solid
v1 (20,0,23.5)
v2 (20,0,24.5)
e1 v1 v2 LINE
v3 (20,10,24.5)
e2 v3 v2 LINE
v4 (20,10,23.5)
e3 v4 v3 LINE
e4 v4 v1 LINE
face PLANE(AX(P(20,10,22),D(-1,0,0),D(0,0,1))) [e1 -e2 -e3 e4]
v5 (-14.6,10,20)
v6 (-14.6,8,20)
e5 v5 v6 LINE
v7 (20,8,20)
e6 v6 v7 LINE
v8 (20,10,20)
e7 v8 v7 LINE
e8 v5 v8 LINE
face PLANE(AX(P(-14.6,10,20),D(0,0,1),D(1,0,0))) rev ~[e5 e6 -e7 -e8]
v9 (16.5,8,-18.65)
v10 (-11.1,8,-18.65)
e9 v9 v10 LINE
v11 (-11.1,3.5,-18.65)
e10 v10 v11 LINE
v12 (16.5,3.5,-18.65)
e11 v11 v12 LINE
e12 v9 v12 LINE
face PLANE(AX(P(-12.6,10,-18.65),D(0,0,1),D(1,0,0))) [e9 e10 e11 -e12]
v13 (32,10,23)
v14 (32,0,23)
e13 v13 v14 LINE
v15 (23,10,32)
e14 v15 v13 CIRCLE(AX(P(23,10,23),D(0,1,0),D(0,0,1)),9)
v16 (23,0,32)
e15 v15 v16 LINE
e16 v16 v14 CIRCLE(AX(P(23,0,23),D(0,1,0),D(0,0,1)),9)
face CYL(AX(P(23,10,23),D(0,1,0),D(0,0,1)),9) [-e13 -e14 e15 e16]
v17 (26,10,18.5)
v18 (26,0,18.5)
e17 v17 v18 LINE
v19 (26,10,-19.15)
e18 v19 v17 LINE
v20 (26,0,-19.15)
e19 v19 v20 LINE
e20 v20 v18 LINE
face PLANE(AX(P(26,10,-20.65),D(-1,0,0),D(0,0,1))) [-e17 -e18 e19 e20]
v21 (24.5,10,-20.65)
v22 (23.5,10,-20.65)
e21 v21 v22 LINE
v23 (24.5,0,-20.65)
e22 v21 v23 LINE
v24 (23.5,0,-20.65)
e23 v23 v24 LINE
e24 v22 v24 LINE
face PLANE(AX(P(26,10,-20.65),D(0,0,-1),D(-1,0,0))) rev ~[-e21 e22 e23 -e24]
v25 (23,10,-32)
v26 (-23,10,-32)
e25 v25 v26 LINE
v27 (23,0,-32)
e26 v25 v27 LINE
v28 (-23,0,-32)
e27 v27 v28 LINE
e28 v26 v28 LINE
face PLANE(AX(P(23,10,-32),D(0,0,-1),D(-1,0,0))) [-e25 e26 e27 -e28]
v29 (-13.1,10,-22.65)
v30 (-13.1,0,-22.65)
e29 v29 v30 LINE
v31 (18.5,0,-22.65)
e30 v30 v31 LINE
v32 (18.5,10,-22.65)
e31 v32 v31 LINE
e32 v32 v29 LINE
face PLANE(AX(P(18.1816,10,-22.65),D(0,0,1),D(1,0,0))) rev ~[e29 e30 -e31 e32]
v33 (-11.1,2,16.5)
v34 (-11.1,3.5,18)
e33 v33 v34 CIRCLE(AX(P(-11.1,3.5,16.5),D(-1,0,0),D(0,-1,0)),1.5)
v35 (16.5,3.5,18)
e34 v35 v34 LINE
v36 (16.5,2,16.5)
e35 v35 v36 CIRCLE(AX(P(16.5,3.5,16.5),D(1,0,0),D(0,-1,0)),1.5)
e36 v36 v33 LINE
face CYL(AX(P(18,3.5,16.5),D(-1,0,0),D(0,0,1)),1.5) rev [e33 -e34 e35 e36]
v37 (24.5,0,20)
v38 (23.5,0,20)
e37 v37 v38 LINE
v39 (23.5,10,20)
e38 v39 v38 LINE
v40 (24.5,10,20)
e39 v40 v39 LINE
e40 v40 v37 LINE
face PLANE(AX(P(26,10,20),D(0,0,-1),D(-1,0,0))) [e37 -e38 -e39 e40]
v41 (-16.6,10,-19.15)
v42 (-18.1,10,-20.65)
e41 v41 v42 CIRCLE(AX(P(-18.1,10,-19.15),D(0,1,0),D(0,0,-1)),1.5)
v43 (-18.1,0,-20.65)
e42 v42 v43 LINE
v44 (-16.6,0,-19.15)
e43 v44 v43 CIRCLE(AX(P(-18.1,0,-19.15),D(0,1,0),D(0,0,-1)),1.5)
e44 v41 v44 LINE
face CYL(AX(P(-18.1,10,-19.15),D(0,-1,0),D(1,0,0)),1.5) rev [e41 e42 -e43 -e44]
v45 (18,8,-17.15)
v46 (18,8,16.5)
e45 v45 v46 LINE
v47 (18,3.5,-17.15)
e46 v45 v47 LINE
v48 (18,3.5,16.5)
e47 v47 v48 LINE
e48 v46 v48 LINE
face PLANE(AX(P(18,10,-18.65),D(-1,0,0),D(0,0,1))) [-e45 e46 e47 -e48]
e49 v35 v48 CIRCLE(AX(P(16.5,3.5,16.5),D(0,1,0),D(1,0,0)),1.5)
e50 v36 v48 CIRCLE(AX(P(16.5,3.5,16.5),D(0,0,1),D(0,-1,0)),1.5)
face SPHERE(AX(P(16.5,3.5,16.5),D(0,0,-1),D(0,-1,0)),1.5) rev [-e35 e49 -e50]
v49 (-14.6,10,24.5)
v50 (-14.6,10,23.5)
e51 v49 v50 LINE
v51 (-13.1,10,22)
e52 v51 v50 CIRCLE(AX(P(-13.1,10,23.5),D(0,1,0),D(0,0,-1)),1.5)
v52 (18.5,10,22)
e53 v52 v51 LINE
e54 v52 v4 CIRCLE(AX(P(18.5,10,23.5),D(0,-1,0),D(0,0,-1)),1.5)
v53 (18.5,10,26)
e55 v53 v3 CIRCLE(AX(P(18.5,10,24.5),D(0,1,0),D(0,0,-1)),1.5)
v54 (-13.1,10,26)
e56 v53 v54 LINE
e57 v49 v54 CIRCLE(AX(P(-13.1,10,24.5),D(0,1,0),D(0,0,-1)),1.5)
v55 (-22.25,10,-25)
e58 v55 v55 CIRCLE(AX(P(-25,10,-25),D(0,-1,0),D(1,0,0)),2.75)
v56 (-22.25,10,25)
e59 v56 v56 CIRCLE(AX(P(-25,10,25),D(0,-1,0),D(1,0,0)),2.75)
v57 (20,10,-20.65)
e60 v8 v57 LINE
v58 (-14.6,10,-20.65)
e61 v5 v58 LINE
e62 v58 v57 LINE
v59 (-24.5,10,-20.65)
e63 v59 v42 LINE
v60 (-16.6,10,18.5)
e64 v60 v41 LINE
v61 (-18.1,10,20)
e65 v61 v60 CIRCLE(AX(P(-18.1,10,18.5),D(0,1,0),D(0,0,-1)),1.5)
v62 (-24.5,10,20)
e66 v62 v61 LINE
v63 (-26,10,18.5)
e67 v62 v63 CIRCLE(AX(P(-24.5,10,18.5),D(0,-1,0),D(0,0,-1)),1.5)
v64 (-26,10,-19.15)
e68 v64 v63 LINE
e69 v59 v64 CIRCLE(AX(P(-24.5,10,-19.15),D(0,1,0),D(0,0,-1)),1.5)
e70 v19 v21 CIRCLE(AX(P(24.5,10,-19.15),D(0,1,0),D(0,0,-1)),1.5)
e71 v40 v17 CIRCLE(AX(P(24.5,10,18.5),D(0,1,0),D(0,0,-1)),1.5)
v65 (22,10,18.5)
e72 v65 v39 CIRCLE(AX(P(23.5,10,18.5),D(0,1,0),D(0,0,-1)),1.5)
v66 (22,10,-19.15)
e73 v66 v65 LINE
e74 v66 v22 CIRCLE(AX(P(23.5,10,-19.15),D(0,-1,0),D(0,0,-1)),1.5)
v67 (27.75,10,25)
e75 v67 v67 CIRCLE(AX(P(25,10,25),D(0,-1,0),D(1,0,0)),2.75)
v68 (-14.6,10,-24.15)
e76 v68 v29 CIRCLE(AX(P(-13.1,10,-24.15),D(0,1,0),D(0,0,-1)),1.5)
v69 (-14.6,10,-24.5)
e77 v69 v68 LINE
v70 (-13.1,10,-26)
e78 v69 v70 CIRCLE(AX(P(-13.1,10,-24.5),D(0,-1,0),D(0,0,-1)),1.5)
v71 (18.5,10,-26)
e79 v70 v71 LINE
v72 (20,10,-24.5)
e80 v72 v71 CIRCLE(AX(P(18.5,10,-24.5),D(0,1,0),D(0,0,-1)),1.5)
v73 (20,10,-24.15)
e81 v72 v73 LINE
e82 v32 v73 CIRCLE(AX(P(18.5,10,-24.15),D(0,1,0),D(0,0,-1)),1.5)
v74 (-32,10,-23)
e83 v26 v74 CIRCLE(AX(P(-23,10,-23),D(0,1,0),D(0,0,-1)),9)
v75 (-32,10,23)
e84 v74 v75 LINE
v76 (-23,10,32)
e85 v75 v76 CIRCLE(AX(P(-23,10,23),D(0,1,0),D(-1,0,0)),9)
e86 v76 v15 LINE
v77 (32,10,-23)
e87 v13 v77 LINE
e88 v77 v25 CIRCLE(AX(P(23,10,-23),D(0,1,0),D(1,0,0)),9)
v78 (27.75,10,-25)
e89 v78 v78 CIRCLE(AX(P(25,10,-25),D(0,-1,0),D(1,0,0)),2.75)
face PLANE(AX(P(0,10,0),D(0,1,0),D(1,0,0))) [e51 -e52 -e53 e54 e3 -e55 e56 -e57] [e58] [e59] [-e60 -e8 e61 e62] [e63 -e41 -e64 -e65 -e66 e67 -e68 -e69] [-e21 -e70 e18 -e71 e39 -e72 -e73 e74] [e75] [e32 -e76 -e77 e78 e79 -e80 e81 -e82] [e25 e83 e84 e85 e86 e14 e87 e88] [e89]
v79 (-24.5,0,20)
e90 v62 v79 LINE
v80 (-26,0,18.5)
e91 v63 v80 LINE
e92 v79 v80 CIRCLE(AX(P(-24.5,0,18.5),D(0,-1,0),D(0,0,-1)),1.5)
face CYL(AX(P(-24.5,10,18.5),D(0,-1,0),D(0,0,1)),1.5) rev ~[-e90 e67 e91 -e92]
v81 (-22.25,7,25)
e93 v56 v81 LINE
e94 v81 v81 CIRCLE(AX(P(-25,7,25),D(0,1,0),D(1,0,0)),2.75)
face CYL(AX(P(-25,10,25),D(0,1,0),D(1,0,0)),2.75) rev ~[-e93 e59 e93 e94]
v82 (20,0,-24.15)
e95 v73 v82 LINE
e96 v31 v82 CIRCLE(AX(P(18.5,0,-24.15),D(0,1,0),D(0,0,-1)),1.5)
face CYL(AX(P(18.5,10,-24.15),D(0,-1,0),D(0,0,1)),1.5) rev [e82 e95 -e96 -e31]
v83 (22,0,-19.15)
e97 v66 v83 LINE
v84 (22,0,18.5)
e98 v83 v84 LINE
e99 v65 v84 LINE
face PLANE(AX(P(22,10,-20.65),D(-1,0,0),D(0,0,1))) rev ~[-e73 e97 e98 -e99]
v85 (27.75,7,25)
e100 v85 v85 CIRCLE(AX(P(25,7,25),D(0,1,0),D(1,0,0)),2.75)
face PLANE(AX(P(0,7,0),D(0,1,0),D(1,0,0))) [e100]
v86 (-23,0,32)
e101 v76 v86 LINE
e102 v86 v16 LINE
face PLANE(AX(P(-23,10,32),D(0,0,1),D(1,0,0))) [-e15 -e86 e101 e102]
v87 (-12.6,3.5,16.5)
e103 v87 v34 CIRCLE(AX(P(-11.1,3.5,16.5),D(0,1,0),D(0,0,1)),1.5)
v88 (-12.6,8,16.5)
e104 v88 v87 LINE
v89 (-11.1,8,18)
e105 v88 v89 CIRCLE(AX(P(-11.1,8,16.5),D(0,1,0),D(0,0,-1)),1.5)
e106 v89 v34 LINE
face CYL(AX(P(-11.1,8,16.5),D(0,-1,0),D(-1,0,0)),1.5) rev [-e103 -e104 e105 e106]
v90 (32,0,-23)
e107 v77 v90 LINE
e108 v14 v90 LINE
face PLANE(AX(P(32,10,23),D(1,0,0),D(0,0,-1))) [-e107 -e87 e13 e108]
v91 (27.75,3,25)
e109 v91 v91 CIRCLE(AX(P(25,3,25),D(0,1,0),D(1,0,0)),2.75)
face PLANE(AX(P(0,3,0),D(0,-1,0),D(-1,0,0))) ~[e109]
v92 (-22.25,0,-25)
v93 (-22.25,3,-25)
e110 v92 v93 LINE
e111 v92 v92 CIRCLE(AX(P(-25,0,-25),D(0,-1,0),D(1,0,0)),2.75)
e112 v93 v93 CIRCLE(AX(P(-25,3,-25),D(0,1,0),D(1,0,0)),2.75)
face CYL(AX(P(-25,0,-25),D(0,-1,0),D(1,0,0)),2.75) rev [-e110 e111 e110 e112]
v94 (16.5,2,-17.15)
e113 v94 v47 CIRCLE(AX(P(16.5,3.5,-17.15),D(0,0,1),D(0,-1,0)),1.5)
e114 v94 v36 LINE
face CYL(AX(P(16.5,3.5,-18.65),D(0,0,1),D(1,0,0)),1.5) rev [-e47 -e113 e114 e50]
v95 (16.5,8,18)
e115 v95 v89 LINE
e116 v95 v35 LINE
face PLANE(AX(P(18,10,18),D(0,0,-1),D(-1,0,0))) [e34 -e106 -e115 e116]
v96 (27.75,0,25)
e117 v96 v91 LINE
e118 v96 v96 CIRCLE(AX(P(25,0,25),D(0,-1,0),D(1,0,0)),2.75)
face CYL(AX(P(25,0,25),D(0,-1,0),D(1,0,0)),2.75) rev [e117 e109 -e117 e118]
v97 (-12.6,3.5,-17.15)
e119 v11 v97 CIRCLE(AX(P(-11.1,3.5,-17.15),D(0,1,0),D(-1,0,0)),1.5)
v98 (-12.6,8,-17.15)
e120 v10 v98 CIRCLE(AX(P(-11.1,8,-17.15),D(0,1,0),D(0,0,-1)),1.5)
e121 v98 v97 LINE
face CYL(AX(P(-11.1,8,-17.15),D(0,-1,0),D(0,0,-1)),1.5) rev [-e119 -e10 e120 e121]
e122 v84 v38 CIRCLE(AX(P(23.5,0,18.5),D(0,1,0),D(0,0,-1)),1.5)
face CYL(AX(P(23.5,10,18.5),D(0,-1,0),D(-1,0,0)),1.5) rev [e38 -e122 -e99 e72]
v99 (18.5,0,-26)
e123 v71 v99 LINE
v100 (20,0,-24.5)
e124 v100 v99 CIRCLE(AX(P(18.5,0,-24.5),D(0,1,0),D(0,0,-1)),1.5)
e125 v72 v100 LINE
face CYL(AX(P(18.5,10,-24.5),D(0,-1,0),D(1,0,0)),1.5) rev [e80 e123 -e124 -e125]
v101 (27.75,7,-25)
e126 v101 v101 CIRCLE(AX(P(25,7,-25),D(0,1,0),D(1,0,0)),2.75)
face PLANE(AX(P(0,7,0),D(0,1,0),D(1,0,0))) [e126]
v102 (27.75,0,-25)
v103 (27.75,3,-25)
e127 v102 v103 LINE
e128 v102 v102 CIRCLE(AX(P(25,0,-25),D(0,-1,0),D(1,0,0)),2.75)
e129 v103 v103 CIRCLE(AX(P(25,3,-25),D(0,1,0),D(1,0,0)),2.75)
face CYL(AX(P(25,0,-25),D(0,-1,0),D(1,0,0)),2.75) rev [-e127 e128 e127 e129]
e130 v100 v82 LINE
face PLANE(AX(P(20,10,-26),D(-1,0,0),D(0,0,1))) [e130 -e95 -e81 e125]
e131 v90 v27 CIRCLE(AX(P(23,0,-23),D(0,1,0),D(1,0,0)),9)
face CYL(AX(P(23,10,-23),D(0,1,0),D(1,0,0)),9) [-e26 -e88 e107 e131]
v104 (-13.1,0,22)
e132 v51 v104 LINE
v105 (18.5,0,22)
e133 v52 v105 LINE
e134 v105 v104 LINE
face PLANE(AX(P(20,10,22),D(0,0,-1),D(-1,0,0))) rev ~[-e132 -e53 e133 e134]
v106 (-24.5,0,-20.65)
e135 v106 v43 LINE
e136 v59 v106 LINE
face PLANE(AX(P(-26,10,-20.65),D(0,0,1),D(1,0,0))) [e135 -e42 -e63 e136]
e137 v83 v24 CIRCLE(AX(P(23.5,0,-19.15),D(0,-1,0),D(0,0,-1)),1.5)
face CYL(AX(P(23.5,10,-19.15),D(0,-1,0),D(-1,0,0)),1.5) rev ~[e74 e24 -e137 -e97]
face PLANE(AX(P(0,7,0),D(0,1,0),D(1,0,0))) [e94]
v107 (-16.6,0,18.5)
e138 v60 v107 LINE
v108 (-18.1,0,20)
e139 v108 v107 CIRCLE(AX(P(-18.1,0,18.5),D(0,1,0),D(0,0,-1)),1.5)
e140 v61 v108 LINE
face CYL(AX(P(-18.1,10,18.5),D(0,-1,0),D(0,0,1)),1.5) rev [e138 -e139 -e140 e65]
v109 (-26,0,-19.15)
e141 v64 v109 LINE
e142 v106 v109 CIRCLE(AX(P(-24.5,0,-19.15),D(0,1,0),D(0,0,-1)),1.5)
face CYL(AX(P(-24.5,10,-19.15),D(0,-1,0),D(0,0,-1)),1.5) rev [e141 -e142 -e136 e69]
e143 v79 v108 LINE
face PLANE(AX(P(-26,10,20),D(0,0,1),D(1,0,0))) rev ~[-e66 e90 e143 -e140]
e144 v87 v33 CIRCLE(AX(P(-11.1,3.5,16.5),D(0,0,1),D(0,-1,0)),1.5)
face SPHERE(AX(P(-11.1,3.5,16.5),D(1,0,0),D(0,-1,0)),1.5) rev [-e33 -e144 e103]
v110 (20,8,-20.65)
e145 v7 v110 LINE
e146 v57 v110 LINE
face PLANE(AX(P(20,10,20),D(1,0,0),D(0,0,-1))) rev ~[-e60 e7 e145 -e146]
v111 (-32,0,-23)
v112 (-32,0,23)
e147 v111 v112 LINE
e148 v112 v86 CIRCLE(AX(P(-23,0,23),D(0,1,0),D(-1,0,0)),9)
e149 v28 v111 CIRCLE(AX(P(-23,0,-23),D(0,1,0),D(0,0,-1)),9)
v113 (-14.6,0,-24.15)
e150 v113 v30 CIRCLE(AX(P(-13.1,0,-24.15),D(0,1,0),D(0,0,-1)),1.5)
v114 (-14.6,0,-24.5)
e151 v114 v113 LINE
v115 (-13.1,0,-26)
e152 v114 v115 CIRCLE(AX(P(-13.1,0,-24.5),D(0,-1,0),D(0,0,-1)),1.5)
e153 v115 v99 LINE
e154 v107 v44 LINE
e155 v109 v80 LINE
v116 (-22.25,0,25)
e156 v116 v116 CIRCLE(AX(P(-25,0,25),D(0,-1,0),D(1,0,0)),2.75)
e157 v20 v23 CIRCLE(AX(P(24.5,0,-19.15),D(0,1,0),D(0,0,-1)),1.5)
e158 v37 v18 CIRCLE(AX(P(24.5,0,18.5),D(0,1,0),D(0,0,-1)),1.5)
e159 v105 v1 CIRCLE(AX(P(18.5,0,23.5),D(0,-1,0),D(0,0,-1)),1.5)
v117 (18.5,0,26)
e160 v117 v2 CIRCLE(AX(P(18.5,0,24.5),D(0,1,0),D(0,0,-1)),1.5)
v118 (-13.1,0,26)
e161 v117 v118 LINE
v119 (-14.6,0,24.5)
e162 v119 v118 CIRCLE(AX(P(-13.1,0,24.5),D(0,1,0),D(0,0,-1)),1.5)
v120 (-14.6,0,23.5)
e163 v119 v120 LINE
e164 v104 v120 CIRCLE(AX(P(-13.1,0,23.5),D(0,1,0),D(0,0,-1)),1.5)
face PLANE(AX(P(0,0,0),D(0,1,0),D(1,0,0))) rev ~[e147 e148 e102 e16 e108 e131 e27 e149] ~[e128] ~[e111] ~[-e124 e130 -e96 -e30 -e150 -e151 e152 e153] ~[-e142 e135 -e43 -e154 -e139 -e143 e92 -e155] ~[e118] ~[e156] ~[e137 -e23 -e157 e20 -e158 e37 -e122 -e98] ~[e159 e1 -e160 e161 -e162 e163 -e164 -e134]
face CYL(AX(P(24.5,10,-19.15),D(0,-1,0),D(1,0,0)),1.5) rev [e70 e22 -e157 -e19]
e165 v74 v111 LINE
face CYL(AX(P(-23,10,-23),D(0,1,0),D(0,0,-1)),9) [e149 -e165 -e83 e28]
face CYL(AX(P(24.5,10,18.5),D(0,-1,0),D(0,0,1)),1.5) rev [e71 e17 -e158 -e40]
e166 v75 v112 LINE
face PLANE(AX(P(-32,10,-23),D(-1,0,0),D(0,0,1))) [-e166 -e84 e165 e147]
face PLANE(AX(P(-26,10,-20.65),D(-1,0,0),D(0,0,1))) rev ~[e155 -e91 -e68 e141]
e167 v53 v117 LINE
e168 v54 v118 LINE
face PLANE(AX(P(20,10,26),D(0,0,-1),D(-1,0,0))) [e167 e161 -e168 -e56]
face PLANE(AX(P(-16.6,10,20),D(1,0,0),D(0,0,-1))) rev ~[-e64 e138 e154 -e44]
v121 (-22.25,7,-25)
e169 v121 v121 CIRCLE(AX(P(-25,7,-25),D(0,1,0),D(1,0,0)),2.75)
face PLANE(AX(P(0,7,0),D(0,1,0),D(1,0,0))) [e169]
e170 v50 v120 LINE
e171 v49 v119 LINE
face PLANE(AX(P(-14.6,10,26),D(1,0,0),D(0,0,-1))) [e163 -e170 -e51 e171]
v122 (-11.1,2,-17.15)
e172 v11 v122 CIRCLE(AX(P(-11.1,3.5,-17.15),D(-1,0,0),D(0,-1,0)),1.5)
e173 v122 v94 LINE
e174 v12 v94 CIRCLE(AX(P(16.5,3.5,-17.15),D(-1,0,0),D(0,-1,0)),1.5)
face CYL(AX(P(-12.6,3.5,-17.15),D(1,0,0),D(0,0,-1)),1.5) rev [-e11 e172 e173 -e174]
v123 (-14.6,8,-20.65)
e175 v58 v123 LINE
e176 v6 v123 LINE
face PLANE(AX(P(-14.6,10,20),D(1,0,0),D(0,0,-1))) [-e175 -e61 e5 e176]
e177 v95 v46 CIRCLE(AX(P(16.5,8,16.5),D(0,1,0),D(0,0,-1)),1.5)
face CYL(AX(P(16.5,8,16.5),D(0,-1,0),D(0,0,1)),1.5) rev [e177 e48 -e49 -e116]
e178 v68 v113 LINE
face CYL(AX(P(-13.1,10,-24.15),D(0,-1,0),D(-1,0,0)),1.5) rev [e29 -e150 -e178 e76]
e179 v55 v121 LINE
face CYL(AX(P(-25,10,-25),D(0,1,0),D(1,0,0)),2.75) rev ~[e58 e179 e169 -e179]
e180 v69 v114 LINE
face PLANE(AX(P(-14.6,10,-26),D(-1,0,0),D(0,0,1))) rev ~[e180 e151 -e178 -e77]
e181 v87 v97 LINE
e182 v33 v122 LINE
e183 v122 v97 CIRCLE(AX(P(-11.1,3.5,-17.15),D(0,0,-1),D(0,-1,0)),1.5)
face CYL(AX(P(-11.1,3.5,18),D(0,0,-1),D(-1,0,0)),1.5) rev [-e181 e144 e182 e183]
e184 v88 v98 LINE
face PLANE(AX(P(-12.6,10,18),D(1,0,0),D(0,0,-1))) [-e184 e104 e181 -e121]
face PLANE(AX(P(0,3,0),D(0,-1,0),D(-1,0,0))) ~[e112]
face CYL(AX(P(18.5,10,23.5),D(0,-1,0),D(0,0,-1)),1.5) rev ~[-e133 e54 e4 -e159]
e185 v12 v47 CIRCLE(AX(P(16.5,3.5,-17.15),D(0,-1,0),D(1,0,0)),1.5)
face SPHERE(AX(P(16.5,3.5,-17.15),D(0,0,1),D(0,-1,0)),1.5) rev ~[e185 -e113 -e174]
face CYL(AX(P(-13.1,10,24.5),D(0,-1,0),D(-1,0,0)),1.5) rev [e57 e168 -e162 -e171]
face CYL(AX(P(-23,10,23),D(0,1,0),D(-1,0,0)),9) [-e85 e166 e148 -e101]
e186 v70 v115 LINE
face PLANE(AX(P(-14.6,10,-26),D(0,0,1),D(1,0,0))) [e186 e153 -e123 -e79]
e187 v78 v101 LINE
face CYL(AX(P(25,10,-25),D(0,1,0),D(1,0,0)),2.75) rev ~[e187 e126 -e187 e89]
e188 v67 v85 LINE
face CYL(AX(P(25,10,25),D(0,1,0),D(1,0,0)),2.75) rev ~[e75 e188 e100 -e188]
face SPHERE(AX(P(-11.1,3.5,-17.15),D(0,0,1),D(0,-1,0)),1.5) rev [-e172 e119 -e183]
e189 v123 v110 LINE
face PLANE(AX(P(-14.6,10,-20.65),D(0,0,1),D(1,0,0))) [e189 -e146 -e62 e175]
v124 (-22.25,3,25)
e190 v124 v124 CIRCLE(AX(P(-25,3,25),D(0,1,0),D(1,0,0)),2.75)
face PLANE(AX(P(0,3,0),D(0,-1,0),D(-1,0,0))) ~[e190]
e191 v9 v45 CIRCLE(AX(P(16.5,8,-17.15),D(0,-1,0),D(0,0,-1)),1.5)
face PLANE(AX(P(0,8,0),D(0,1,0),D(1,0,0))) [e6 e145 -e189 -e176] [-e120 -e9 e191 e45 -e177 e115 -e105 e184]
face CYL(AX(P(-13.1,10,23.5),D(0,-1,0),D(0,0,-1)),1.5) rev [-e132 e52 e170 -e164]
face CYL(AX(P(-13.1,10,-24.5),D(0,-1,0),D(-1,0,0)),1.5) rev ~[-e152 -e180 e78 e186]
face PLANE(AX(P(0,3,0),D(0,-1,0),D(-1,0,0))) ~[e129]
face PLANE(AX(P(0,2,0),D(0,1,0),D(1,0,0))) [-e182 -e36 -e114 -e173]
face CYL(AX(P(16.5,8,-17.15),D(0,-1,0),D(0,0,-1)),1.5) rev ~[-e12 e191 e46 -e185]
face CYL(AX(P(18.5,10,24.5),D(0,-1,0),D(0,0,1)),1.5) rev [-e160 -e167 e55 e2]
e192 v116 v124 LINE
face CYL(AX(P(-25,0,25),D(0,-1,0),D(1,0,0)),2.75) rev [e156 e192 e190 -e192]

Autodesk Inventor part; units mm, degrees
ref_plane "YZ Plane" through (0, 0, 0) normal (1, 0, 0) x (0, 1, 0)
ref_plane "XZ Plane" through (0, 0, 0) normal (0, 1, 0) x (-1, 0, 0)
sketch "Sketch1" plane through (0, 0, 0) normal (0, 1, 0) x (-1, 0, 0)
  line L0 (30, 30) -> (-30, 30)
  line L1 (-30, 30) -> (-30, -30)
  line L2 (-30, -30) -> (30, -30)
  line L3 (30, -30) -> (30, 30)
  line L4 (30, 30) -> (-30, -30) construction
  line L5 (-30, 30) -> (30, -30) construction
  point P0 (0, 0)
  dimension "d0" = 60
  dimension "d1" = 60
extrude "Extrusion1" add sketch "Sketch1" along normal blind 10
fillet "Fillet1" radius 7 4 edges at (30, 5, 30) (30, 5, -30) (-30, 5, 30) (-30, 5, -30)
sketch "Sketch2" plane through (0, 10, 0) normal (0, 1, 0) x (1, 0, 0)
  line L0 (-30, 30) -> (30, 30)
  line L1 (30, 30) -> (30, -30)
  line L2 (30, -30) -> (-30, -30)
  line L3 (-30, -30) -> (-30, 30)
  line L4 (-30, 30) -> (30, -30) construction
  line L5 (30, 30) -> (-30, -30) construction
  line L6 (25, -25) -> (25, 25)
  line L7 (25, 25) -> (-25, 25)
  line L8 (-25, 25) -> (-25, -25)
  line L9 (-25, -25) -> (25, -25)
  circle A0 centre (25, -25) radius 2.75
  circle A1 centre (-25, -25) radius 2.75
  circle A2 centre (25, 25) radius 2.75
  circle A3 centre (-25, 25) radius 2.75
  point P0 (0, 0)
  dimension "d5" = 5
  dimension "d6" = 5.5
  dimension "d7" = 5.5
  dimension "d8" = 5.5
  dimension "d9" = 5.5
extrude "Extrusion2" cut sketch "Sketch2" against normal blind 3 contours L9 A0 L6 | L6 A0 L9 | A2 L7 L6 | L6 L7 A2 | A1 L8 L9 | L9 L8 A1 | A3 L8 L7 | L7 L8 A3
sketch "Sketch3" plane through (0, 10, 0) normal (0, 1, 0) x (1, 0, 0)
  line L0 (-30, 30) -> (30, 30)
  line L1 (30, 30) -> (30, -30)
  line L2 (30, -30) -> (-30, -30)
  line L3 (-30, -30) -> (-30, 30)
  line L4 (-30, 30) -> (30, -30) construction
  line L5 (30, 30) -> (-30, -30) construction
  line L6 (20, -20) -> (20, 20.65)
  line L7 (-20, -20) -> (20, -20)
  line L8 (18, 18.65) -> (18, -18)
  line L9 (-20, 20.65) -> (20.65, 20.65)
  line L10 (18, 18.65) -> (18.65, 18.65)
  line L11 (-12.6, -18) -> (-12.6, 18.65)
  line L12 (-14.6, -20) -> (-14.6, 20.65)
  line L13 (18, 18.65) -> (-12.6, 18.65)
  line L14 (18, -18) -> (-12.6, -18)
  line L15 (-26, 20.65) -> (-20, 20.65)
  line L16 (-26, 20.65) -> (-26, -20)
  line L17 (-26, -20) -> (-20, -20)
  point P0 (0, 0)
  point P1 (-12.6, -20)
  dimension "d12" = 60
  dimension "d13" = 60
  dimension "d14" = 10
  dimension "d16" = 34.6
  dimension "d17" = 2
  dimension "d18" = 40.65
  dimension "d22" = 4
  dimension "d23" = 4
extrude "Extrusion3" cut sketch "Sketch3" against normal blind 2 contours L7 L12 L9 L6
sketch "Sketch4" plane through (0, 10, 0) normal (0, 1, 0) x (1, 0, 0)
  line L0 (-12.6, 18.65) -> (18, 18.65)
  line L1 (18, 18.65) -> (18, -18)
  line L2 (18, -18) -> (-12.6, -18)
  line L3 (-12.6, -18) -> (-12.6, 18.65)
  point P0 (0, 0)
extrude "Extrusion4" cut sketch "Sketch4" against normal blind 8
sketch "Sketch5" plane through (0, 10, 0) normal (0, 1, 0) x (1, 0, 0)
  line L0 (20, -20) -> (-14.6, -20)
  line L1 (-14.6, -20) -> (-14.6, 20.65)
  line L2 (-30, 23) -> (-30, -23) projected
  line L3 (-23, -30) -> (23, -30) projected
  line L4 (30, -23) -> (30, 23) projected
  line L5 (-26, 20.65) -> (-14.6, 20.65)
  line L6 (-26, -20) -> (-14.6, -20)
  line L7 (-26, 20.65) -> (-26, -20)
  line L8 (-14.6, -26) -> (-14.6, -20)
  line L9 (-14.6, -20) -> (-14.6, -26)
  line L10 (20, -26) -> (-14.6, -26)
  line L11 (20, -20) -> (20, -26)
  line L12 (26, -20) -> (20, -20)
  line L13 (26, 20.65) -> (20, 20.65)
  line L14 (30, -23) -> (30, 23) projected
  line L15 (26, 20.65) -> (26, -20)
  line L16 (23, 30) -> (-23, 30) projected
  line L17 (-14.6, 26) -> (-14.6, 20.65)
  line L18 (-14.6, 26) -> (20, 26)
  line L19 (20, 26) -> (20, 20.65)
  line L20 (-16.6, -20) -> (-16.6, 20.65)
  line L21 (20, -22) -> (-14.6, -22)
  line L22 (22, 20.65) -> (22, -20)
  line L23 (-14.6, 22.65) -> (18.1816, 22.65)
  line L24 (18.1816, 22.65) -> (20, 22.65)
  point P0 (0, 0)
  dimension "d28" = 4
  dimension "d29" = 4
  dimension "d30" = 4
  dimension "d31" = 4
  dimension "d32" = 4
  dimension "d33" = 4
  dimension "d36" = 4
  dimension "d37" = 4
  dimension "d38" = 2
  dimension "d39" = 2
extrude "Extrusion5" cut sketch "Sketch5" against normal through all contours L11 L10 L8 L21 | L22 L13 L15 L12 | L6 L7 L5 L20 | L17 L18 L19 L24 L23
fillet "Fillet2" radius 1.5 24 edges at (-16.6, 5, -20.65) (20, 5, -26) (26, 5, -20.65) (20, 5, 22) (-14.6, 5, -26) (-26, 5, -20.65) (22, 5, -20.65) (-14.6, 5, 22) (-26, 5, 20) (-14.6, 5, -22.65) (-14.6, 5, 26) (-16.6, 5, 20) (20, 5, 26) (26, 5, 20) (18, 2, -0.325) (2.7, 2, 18) (-12.6, 2, -0.325) (2.7, 2, -18.65) (-12.6, 5, -18.65) (18, 5, -18.65) (18, 5, 18) (-12.6, 5, 18) (22, 5, 20) (20, 5, -22.65)
sketch "Sketch6" plane through (-12.6, 3.5, 16.5) normal (1, 0, 0) x (0, 0, -1)
  point P0 (16.5, -3.5)
ref_plane "Work Plane1" through (0, 5, 0) normal (0, 1, 0) x (1, 0, 0)
mirror "Mirror1" about plane through (0, 5, 0) normal (0, 1, 0) of "Extrusion2"
sketch "Sketch7" plane through (0, 10, 0) normal (0, 1, 0) x (1, 0, 0)
  line L0 (-23, 30) -> (23, 30)
  line L1 (30, 23) -> (30, -23)
  line L2 (23, -30) -> (-23, -30)
  line L3 (-30, -23) -> (-30, 23)
  line L4 (-30, 30) -> (30, -30) construction
  line L5 (30, 30) -> (-30, -30) construction
  arc A0 (30, 23) -> (23, 30) centre (23, 23) ccw
  arc A1 (-23, 30) -> (-30, 23) centre (-23, 23) ccw
  arc A2 (-30, -23) -> (-23, -30) centre (-23, -23) ccw
  arc A3 (23, -30) -> (30, -23) centre (23, -23) ccw
  line L6 (32, -23) -> (32, 23)
  arc A4 (32, 23) -> (23, 32) centre (23, 23) ccw
  line L7 (23, 32) -> (-23, 32)
  arc A5 (-23, 32) -> (-32, 23) centre (-23, 23) ccw
  line L8 (-32, 23) -> (-32, -23)
  arc A6 (-32, -23) -> (-23, -32) centre (-23, -23) ccw
  line L9 (-23, -32) -> (23, -32)
  arc A7 (23, -32) -> (32, -23) centre (23, -23) ccw
  point P0 (0, 0)
  dimension "d45" = 60
  dimension "d46" = 60
  dimension "d47" = 7
  dimension "d48" = 2
extrude "Extrusion6" add sketch "Sketch7" against normal blind 10
properties part number "new IC holder"
